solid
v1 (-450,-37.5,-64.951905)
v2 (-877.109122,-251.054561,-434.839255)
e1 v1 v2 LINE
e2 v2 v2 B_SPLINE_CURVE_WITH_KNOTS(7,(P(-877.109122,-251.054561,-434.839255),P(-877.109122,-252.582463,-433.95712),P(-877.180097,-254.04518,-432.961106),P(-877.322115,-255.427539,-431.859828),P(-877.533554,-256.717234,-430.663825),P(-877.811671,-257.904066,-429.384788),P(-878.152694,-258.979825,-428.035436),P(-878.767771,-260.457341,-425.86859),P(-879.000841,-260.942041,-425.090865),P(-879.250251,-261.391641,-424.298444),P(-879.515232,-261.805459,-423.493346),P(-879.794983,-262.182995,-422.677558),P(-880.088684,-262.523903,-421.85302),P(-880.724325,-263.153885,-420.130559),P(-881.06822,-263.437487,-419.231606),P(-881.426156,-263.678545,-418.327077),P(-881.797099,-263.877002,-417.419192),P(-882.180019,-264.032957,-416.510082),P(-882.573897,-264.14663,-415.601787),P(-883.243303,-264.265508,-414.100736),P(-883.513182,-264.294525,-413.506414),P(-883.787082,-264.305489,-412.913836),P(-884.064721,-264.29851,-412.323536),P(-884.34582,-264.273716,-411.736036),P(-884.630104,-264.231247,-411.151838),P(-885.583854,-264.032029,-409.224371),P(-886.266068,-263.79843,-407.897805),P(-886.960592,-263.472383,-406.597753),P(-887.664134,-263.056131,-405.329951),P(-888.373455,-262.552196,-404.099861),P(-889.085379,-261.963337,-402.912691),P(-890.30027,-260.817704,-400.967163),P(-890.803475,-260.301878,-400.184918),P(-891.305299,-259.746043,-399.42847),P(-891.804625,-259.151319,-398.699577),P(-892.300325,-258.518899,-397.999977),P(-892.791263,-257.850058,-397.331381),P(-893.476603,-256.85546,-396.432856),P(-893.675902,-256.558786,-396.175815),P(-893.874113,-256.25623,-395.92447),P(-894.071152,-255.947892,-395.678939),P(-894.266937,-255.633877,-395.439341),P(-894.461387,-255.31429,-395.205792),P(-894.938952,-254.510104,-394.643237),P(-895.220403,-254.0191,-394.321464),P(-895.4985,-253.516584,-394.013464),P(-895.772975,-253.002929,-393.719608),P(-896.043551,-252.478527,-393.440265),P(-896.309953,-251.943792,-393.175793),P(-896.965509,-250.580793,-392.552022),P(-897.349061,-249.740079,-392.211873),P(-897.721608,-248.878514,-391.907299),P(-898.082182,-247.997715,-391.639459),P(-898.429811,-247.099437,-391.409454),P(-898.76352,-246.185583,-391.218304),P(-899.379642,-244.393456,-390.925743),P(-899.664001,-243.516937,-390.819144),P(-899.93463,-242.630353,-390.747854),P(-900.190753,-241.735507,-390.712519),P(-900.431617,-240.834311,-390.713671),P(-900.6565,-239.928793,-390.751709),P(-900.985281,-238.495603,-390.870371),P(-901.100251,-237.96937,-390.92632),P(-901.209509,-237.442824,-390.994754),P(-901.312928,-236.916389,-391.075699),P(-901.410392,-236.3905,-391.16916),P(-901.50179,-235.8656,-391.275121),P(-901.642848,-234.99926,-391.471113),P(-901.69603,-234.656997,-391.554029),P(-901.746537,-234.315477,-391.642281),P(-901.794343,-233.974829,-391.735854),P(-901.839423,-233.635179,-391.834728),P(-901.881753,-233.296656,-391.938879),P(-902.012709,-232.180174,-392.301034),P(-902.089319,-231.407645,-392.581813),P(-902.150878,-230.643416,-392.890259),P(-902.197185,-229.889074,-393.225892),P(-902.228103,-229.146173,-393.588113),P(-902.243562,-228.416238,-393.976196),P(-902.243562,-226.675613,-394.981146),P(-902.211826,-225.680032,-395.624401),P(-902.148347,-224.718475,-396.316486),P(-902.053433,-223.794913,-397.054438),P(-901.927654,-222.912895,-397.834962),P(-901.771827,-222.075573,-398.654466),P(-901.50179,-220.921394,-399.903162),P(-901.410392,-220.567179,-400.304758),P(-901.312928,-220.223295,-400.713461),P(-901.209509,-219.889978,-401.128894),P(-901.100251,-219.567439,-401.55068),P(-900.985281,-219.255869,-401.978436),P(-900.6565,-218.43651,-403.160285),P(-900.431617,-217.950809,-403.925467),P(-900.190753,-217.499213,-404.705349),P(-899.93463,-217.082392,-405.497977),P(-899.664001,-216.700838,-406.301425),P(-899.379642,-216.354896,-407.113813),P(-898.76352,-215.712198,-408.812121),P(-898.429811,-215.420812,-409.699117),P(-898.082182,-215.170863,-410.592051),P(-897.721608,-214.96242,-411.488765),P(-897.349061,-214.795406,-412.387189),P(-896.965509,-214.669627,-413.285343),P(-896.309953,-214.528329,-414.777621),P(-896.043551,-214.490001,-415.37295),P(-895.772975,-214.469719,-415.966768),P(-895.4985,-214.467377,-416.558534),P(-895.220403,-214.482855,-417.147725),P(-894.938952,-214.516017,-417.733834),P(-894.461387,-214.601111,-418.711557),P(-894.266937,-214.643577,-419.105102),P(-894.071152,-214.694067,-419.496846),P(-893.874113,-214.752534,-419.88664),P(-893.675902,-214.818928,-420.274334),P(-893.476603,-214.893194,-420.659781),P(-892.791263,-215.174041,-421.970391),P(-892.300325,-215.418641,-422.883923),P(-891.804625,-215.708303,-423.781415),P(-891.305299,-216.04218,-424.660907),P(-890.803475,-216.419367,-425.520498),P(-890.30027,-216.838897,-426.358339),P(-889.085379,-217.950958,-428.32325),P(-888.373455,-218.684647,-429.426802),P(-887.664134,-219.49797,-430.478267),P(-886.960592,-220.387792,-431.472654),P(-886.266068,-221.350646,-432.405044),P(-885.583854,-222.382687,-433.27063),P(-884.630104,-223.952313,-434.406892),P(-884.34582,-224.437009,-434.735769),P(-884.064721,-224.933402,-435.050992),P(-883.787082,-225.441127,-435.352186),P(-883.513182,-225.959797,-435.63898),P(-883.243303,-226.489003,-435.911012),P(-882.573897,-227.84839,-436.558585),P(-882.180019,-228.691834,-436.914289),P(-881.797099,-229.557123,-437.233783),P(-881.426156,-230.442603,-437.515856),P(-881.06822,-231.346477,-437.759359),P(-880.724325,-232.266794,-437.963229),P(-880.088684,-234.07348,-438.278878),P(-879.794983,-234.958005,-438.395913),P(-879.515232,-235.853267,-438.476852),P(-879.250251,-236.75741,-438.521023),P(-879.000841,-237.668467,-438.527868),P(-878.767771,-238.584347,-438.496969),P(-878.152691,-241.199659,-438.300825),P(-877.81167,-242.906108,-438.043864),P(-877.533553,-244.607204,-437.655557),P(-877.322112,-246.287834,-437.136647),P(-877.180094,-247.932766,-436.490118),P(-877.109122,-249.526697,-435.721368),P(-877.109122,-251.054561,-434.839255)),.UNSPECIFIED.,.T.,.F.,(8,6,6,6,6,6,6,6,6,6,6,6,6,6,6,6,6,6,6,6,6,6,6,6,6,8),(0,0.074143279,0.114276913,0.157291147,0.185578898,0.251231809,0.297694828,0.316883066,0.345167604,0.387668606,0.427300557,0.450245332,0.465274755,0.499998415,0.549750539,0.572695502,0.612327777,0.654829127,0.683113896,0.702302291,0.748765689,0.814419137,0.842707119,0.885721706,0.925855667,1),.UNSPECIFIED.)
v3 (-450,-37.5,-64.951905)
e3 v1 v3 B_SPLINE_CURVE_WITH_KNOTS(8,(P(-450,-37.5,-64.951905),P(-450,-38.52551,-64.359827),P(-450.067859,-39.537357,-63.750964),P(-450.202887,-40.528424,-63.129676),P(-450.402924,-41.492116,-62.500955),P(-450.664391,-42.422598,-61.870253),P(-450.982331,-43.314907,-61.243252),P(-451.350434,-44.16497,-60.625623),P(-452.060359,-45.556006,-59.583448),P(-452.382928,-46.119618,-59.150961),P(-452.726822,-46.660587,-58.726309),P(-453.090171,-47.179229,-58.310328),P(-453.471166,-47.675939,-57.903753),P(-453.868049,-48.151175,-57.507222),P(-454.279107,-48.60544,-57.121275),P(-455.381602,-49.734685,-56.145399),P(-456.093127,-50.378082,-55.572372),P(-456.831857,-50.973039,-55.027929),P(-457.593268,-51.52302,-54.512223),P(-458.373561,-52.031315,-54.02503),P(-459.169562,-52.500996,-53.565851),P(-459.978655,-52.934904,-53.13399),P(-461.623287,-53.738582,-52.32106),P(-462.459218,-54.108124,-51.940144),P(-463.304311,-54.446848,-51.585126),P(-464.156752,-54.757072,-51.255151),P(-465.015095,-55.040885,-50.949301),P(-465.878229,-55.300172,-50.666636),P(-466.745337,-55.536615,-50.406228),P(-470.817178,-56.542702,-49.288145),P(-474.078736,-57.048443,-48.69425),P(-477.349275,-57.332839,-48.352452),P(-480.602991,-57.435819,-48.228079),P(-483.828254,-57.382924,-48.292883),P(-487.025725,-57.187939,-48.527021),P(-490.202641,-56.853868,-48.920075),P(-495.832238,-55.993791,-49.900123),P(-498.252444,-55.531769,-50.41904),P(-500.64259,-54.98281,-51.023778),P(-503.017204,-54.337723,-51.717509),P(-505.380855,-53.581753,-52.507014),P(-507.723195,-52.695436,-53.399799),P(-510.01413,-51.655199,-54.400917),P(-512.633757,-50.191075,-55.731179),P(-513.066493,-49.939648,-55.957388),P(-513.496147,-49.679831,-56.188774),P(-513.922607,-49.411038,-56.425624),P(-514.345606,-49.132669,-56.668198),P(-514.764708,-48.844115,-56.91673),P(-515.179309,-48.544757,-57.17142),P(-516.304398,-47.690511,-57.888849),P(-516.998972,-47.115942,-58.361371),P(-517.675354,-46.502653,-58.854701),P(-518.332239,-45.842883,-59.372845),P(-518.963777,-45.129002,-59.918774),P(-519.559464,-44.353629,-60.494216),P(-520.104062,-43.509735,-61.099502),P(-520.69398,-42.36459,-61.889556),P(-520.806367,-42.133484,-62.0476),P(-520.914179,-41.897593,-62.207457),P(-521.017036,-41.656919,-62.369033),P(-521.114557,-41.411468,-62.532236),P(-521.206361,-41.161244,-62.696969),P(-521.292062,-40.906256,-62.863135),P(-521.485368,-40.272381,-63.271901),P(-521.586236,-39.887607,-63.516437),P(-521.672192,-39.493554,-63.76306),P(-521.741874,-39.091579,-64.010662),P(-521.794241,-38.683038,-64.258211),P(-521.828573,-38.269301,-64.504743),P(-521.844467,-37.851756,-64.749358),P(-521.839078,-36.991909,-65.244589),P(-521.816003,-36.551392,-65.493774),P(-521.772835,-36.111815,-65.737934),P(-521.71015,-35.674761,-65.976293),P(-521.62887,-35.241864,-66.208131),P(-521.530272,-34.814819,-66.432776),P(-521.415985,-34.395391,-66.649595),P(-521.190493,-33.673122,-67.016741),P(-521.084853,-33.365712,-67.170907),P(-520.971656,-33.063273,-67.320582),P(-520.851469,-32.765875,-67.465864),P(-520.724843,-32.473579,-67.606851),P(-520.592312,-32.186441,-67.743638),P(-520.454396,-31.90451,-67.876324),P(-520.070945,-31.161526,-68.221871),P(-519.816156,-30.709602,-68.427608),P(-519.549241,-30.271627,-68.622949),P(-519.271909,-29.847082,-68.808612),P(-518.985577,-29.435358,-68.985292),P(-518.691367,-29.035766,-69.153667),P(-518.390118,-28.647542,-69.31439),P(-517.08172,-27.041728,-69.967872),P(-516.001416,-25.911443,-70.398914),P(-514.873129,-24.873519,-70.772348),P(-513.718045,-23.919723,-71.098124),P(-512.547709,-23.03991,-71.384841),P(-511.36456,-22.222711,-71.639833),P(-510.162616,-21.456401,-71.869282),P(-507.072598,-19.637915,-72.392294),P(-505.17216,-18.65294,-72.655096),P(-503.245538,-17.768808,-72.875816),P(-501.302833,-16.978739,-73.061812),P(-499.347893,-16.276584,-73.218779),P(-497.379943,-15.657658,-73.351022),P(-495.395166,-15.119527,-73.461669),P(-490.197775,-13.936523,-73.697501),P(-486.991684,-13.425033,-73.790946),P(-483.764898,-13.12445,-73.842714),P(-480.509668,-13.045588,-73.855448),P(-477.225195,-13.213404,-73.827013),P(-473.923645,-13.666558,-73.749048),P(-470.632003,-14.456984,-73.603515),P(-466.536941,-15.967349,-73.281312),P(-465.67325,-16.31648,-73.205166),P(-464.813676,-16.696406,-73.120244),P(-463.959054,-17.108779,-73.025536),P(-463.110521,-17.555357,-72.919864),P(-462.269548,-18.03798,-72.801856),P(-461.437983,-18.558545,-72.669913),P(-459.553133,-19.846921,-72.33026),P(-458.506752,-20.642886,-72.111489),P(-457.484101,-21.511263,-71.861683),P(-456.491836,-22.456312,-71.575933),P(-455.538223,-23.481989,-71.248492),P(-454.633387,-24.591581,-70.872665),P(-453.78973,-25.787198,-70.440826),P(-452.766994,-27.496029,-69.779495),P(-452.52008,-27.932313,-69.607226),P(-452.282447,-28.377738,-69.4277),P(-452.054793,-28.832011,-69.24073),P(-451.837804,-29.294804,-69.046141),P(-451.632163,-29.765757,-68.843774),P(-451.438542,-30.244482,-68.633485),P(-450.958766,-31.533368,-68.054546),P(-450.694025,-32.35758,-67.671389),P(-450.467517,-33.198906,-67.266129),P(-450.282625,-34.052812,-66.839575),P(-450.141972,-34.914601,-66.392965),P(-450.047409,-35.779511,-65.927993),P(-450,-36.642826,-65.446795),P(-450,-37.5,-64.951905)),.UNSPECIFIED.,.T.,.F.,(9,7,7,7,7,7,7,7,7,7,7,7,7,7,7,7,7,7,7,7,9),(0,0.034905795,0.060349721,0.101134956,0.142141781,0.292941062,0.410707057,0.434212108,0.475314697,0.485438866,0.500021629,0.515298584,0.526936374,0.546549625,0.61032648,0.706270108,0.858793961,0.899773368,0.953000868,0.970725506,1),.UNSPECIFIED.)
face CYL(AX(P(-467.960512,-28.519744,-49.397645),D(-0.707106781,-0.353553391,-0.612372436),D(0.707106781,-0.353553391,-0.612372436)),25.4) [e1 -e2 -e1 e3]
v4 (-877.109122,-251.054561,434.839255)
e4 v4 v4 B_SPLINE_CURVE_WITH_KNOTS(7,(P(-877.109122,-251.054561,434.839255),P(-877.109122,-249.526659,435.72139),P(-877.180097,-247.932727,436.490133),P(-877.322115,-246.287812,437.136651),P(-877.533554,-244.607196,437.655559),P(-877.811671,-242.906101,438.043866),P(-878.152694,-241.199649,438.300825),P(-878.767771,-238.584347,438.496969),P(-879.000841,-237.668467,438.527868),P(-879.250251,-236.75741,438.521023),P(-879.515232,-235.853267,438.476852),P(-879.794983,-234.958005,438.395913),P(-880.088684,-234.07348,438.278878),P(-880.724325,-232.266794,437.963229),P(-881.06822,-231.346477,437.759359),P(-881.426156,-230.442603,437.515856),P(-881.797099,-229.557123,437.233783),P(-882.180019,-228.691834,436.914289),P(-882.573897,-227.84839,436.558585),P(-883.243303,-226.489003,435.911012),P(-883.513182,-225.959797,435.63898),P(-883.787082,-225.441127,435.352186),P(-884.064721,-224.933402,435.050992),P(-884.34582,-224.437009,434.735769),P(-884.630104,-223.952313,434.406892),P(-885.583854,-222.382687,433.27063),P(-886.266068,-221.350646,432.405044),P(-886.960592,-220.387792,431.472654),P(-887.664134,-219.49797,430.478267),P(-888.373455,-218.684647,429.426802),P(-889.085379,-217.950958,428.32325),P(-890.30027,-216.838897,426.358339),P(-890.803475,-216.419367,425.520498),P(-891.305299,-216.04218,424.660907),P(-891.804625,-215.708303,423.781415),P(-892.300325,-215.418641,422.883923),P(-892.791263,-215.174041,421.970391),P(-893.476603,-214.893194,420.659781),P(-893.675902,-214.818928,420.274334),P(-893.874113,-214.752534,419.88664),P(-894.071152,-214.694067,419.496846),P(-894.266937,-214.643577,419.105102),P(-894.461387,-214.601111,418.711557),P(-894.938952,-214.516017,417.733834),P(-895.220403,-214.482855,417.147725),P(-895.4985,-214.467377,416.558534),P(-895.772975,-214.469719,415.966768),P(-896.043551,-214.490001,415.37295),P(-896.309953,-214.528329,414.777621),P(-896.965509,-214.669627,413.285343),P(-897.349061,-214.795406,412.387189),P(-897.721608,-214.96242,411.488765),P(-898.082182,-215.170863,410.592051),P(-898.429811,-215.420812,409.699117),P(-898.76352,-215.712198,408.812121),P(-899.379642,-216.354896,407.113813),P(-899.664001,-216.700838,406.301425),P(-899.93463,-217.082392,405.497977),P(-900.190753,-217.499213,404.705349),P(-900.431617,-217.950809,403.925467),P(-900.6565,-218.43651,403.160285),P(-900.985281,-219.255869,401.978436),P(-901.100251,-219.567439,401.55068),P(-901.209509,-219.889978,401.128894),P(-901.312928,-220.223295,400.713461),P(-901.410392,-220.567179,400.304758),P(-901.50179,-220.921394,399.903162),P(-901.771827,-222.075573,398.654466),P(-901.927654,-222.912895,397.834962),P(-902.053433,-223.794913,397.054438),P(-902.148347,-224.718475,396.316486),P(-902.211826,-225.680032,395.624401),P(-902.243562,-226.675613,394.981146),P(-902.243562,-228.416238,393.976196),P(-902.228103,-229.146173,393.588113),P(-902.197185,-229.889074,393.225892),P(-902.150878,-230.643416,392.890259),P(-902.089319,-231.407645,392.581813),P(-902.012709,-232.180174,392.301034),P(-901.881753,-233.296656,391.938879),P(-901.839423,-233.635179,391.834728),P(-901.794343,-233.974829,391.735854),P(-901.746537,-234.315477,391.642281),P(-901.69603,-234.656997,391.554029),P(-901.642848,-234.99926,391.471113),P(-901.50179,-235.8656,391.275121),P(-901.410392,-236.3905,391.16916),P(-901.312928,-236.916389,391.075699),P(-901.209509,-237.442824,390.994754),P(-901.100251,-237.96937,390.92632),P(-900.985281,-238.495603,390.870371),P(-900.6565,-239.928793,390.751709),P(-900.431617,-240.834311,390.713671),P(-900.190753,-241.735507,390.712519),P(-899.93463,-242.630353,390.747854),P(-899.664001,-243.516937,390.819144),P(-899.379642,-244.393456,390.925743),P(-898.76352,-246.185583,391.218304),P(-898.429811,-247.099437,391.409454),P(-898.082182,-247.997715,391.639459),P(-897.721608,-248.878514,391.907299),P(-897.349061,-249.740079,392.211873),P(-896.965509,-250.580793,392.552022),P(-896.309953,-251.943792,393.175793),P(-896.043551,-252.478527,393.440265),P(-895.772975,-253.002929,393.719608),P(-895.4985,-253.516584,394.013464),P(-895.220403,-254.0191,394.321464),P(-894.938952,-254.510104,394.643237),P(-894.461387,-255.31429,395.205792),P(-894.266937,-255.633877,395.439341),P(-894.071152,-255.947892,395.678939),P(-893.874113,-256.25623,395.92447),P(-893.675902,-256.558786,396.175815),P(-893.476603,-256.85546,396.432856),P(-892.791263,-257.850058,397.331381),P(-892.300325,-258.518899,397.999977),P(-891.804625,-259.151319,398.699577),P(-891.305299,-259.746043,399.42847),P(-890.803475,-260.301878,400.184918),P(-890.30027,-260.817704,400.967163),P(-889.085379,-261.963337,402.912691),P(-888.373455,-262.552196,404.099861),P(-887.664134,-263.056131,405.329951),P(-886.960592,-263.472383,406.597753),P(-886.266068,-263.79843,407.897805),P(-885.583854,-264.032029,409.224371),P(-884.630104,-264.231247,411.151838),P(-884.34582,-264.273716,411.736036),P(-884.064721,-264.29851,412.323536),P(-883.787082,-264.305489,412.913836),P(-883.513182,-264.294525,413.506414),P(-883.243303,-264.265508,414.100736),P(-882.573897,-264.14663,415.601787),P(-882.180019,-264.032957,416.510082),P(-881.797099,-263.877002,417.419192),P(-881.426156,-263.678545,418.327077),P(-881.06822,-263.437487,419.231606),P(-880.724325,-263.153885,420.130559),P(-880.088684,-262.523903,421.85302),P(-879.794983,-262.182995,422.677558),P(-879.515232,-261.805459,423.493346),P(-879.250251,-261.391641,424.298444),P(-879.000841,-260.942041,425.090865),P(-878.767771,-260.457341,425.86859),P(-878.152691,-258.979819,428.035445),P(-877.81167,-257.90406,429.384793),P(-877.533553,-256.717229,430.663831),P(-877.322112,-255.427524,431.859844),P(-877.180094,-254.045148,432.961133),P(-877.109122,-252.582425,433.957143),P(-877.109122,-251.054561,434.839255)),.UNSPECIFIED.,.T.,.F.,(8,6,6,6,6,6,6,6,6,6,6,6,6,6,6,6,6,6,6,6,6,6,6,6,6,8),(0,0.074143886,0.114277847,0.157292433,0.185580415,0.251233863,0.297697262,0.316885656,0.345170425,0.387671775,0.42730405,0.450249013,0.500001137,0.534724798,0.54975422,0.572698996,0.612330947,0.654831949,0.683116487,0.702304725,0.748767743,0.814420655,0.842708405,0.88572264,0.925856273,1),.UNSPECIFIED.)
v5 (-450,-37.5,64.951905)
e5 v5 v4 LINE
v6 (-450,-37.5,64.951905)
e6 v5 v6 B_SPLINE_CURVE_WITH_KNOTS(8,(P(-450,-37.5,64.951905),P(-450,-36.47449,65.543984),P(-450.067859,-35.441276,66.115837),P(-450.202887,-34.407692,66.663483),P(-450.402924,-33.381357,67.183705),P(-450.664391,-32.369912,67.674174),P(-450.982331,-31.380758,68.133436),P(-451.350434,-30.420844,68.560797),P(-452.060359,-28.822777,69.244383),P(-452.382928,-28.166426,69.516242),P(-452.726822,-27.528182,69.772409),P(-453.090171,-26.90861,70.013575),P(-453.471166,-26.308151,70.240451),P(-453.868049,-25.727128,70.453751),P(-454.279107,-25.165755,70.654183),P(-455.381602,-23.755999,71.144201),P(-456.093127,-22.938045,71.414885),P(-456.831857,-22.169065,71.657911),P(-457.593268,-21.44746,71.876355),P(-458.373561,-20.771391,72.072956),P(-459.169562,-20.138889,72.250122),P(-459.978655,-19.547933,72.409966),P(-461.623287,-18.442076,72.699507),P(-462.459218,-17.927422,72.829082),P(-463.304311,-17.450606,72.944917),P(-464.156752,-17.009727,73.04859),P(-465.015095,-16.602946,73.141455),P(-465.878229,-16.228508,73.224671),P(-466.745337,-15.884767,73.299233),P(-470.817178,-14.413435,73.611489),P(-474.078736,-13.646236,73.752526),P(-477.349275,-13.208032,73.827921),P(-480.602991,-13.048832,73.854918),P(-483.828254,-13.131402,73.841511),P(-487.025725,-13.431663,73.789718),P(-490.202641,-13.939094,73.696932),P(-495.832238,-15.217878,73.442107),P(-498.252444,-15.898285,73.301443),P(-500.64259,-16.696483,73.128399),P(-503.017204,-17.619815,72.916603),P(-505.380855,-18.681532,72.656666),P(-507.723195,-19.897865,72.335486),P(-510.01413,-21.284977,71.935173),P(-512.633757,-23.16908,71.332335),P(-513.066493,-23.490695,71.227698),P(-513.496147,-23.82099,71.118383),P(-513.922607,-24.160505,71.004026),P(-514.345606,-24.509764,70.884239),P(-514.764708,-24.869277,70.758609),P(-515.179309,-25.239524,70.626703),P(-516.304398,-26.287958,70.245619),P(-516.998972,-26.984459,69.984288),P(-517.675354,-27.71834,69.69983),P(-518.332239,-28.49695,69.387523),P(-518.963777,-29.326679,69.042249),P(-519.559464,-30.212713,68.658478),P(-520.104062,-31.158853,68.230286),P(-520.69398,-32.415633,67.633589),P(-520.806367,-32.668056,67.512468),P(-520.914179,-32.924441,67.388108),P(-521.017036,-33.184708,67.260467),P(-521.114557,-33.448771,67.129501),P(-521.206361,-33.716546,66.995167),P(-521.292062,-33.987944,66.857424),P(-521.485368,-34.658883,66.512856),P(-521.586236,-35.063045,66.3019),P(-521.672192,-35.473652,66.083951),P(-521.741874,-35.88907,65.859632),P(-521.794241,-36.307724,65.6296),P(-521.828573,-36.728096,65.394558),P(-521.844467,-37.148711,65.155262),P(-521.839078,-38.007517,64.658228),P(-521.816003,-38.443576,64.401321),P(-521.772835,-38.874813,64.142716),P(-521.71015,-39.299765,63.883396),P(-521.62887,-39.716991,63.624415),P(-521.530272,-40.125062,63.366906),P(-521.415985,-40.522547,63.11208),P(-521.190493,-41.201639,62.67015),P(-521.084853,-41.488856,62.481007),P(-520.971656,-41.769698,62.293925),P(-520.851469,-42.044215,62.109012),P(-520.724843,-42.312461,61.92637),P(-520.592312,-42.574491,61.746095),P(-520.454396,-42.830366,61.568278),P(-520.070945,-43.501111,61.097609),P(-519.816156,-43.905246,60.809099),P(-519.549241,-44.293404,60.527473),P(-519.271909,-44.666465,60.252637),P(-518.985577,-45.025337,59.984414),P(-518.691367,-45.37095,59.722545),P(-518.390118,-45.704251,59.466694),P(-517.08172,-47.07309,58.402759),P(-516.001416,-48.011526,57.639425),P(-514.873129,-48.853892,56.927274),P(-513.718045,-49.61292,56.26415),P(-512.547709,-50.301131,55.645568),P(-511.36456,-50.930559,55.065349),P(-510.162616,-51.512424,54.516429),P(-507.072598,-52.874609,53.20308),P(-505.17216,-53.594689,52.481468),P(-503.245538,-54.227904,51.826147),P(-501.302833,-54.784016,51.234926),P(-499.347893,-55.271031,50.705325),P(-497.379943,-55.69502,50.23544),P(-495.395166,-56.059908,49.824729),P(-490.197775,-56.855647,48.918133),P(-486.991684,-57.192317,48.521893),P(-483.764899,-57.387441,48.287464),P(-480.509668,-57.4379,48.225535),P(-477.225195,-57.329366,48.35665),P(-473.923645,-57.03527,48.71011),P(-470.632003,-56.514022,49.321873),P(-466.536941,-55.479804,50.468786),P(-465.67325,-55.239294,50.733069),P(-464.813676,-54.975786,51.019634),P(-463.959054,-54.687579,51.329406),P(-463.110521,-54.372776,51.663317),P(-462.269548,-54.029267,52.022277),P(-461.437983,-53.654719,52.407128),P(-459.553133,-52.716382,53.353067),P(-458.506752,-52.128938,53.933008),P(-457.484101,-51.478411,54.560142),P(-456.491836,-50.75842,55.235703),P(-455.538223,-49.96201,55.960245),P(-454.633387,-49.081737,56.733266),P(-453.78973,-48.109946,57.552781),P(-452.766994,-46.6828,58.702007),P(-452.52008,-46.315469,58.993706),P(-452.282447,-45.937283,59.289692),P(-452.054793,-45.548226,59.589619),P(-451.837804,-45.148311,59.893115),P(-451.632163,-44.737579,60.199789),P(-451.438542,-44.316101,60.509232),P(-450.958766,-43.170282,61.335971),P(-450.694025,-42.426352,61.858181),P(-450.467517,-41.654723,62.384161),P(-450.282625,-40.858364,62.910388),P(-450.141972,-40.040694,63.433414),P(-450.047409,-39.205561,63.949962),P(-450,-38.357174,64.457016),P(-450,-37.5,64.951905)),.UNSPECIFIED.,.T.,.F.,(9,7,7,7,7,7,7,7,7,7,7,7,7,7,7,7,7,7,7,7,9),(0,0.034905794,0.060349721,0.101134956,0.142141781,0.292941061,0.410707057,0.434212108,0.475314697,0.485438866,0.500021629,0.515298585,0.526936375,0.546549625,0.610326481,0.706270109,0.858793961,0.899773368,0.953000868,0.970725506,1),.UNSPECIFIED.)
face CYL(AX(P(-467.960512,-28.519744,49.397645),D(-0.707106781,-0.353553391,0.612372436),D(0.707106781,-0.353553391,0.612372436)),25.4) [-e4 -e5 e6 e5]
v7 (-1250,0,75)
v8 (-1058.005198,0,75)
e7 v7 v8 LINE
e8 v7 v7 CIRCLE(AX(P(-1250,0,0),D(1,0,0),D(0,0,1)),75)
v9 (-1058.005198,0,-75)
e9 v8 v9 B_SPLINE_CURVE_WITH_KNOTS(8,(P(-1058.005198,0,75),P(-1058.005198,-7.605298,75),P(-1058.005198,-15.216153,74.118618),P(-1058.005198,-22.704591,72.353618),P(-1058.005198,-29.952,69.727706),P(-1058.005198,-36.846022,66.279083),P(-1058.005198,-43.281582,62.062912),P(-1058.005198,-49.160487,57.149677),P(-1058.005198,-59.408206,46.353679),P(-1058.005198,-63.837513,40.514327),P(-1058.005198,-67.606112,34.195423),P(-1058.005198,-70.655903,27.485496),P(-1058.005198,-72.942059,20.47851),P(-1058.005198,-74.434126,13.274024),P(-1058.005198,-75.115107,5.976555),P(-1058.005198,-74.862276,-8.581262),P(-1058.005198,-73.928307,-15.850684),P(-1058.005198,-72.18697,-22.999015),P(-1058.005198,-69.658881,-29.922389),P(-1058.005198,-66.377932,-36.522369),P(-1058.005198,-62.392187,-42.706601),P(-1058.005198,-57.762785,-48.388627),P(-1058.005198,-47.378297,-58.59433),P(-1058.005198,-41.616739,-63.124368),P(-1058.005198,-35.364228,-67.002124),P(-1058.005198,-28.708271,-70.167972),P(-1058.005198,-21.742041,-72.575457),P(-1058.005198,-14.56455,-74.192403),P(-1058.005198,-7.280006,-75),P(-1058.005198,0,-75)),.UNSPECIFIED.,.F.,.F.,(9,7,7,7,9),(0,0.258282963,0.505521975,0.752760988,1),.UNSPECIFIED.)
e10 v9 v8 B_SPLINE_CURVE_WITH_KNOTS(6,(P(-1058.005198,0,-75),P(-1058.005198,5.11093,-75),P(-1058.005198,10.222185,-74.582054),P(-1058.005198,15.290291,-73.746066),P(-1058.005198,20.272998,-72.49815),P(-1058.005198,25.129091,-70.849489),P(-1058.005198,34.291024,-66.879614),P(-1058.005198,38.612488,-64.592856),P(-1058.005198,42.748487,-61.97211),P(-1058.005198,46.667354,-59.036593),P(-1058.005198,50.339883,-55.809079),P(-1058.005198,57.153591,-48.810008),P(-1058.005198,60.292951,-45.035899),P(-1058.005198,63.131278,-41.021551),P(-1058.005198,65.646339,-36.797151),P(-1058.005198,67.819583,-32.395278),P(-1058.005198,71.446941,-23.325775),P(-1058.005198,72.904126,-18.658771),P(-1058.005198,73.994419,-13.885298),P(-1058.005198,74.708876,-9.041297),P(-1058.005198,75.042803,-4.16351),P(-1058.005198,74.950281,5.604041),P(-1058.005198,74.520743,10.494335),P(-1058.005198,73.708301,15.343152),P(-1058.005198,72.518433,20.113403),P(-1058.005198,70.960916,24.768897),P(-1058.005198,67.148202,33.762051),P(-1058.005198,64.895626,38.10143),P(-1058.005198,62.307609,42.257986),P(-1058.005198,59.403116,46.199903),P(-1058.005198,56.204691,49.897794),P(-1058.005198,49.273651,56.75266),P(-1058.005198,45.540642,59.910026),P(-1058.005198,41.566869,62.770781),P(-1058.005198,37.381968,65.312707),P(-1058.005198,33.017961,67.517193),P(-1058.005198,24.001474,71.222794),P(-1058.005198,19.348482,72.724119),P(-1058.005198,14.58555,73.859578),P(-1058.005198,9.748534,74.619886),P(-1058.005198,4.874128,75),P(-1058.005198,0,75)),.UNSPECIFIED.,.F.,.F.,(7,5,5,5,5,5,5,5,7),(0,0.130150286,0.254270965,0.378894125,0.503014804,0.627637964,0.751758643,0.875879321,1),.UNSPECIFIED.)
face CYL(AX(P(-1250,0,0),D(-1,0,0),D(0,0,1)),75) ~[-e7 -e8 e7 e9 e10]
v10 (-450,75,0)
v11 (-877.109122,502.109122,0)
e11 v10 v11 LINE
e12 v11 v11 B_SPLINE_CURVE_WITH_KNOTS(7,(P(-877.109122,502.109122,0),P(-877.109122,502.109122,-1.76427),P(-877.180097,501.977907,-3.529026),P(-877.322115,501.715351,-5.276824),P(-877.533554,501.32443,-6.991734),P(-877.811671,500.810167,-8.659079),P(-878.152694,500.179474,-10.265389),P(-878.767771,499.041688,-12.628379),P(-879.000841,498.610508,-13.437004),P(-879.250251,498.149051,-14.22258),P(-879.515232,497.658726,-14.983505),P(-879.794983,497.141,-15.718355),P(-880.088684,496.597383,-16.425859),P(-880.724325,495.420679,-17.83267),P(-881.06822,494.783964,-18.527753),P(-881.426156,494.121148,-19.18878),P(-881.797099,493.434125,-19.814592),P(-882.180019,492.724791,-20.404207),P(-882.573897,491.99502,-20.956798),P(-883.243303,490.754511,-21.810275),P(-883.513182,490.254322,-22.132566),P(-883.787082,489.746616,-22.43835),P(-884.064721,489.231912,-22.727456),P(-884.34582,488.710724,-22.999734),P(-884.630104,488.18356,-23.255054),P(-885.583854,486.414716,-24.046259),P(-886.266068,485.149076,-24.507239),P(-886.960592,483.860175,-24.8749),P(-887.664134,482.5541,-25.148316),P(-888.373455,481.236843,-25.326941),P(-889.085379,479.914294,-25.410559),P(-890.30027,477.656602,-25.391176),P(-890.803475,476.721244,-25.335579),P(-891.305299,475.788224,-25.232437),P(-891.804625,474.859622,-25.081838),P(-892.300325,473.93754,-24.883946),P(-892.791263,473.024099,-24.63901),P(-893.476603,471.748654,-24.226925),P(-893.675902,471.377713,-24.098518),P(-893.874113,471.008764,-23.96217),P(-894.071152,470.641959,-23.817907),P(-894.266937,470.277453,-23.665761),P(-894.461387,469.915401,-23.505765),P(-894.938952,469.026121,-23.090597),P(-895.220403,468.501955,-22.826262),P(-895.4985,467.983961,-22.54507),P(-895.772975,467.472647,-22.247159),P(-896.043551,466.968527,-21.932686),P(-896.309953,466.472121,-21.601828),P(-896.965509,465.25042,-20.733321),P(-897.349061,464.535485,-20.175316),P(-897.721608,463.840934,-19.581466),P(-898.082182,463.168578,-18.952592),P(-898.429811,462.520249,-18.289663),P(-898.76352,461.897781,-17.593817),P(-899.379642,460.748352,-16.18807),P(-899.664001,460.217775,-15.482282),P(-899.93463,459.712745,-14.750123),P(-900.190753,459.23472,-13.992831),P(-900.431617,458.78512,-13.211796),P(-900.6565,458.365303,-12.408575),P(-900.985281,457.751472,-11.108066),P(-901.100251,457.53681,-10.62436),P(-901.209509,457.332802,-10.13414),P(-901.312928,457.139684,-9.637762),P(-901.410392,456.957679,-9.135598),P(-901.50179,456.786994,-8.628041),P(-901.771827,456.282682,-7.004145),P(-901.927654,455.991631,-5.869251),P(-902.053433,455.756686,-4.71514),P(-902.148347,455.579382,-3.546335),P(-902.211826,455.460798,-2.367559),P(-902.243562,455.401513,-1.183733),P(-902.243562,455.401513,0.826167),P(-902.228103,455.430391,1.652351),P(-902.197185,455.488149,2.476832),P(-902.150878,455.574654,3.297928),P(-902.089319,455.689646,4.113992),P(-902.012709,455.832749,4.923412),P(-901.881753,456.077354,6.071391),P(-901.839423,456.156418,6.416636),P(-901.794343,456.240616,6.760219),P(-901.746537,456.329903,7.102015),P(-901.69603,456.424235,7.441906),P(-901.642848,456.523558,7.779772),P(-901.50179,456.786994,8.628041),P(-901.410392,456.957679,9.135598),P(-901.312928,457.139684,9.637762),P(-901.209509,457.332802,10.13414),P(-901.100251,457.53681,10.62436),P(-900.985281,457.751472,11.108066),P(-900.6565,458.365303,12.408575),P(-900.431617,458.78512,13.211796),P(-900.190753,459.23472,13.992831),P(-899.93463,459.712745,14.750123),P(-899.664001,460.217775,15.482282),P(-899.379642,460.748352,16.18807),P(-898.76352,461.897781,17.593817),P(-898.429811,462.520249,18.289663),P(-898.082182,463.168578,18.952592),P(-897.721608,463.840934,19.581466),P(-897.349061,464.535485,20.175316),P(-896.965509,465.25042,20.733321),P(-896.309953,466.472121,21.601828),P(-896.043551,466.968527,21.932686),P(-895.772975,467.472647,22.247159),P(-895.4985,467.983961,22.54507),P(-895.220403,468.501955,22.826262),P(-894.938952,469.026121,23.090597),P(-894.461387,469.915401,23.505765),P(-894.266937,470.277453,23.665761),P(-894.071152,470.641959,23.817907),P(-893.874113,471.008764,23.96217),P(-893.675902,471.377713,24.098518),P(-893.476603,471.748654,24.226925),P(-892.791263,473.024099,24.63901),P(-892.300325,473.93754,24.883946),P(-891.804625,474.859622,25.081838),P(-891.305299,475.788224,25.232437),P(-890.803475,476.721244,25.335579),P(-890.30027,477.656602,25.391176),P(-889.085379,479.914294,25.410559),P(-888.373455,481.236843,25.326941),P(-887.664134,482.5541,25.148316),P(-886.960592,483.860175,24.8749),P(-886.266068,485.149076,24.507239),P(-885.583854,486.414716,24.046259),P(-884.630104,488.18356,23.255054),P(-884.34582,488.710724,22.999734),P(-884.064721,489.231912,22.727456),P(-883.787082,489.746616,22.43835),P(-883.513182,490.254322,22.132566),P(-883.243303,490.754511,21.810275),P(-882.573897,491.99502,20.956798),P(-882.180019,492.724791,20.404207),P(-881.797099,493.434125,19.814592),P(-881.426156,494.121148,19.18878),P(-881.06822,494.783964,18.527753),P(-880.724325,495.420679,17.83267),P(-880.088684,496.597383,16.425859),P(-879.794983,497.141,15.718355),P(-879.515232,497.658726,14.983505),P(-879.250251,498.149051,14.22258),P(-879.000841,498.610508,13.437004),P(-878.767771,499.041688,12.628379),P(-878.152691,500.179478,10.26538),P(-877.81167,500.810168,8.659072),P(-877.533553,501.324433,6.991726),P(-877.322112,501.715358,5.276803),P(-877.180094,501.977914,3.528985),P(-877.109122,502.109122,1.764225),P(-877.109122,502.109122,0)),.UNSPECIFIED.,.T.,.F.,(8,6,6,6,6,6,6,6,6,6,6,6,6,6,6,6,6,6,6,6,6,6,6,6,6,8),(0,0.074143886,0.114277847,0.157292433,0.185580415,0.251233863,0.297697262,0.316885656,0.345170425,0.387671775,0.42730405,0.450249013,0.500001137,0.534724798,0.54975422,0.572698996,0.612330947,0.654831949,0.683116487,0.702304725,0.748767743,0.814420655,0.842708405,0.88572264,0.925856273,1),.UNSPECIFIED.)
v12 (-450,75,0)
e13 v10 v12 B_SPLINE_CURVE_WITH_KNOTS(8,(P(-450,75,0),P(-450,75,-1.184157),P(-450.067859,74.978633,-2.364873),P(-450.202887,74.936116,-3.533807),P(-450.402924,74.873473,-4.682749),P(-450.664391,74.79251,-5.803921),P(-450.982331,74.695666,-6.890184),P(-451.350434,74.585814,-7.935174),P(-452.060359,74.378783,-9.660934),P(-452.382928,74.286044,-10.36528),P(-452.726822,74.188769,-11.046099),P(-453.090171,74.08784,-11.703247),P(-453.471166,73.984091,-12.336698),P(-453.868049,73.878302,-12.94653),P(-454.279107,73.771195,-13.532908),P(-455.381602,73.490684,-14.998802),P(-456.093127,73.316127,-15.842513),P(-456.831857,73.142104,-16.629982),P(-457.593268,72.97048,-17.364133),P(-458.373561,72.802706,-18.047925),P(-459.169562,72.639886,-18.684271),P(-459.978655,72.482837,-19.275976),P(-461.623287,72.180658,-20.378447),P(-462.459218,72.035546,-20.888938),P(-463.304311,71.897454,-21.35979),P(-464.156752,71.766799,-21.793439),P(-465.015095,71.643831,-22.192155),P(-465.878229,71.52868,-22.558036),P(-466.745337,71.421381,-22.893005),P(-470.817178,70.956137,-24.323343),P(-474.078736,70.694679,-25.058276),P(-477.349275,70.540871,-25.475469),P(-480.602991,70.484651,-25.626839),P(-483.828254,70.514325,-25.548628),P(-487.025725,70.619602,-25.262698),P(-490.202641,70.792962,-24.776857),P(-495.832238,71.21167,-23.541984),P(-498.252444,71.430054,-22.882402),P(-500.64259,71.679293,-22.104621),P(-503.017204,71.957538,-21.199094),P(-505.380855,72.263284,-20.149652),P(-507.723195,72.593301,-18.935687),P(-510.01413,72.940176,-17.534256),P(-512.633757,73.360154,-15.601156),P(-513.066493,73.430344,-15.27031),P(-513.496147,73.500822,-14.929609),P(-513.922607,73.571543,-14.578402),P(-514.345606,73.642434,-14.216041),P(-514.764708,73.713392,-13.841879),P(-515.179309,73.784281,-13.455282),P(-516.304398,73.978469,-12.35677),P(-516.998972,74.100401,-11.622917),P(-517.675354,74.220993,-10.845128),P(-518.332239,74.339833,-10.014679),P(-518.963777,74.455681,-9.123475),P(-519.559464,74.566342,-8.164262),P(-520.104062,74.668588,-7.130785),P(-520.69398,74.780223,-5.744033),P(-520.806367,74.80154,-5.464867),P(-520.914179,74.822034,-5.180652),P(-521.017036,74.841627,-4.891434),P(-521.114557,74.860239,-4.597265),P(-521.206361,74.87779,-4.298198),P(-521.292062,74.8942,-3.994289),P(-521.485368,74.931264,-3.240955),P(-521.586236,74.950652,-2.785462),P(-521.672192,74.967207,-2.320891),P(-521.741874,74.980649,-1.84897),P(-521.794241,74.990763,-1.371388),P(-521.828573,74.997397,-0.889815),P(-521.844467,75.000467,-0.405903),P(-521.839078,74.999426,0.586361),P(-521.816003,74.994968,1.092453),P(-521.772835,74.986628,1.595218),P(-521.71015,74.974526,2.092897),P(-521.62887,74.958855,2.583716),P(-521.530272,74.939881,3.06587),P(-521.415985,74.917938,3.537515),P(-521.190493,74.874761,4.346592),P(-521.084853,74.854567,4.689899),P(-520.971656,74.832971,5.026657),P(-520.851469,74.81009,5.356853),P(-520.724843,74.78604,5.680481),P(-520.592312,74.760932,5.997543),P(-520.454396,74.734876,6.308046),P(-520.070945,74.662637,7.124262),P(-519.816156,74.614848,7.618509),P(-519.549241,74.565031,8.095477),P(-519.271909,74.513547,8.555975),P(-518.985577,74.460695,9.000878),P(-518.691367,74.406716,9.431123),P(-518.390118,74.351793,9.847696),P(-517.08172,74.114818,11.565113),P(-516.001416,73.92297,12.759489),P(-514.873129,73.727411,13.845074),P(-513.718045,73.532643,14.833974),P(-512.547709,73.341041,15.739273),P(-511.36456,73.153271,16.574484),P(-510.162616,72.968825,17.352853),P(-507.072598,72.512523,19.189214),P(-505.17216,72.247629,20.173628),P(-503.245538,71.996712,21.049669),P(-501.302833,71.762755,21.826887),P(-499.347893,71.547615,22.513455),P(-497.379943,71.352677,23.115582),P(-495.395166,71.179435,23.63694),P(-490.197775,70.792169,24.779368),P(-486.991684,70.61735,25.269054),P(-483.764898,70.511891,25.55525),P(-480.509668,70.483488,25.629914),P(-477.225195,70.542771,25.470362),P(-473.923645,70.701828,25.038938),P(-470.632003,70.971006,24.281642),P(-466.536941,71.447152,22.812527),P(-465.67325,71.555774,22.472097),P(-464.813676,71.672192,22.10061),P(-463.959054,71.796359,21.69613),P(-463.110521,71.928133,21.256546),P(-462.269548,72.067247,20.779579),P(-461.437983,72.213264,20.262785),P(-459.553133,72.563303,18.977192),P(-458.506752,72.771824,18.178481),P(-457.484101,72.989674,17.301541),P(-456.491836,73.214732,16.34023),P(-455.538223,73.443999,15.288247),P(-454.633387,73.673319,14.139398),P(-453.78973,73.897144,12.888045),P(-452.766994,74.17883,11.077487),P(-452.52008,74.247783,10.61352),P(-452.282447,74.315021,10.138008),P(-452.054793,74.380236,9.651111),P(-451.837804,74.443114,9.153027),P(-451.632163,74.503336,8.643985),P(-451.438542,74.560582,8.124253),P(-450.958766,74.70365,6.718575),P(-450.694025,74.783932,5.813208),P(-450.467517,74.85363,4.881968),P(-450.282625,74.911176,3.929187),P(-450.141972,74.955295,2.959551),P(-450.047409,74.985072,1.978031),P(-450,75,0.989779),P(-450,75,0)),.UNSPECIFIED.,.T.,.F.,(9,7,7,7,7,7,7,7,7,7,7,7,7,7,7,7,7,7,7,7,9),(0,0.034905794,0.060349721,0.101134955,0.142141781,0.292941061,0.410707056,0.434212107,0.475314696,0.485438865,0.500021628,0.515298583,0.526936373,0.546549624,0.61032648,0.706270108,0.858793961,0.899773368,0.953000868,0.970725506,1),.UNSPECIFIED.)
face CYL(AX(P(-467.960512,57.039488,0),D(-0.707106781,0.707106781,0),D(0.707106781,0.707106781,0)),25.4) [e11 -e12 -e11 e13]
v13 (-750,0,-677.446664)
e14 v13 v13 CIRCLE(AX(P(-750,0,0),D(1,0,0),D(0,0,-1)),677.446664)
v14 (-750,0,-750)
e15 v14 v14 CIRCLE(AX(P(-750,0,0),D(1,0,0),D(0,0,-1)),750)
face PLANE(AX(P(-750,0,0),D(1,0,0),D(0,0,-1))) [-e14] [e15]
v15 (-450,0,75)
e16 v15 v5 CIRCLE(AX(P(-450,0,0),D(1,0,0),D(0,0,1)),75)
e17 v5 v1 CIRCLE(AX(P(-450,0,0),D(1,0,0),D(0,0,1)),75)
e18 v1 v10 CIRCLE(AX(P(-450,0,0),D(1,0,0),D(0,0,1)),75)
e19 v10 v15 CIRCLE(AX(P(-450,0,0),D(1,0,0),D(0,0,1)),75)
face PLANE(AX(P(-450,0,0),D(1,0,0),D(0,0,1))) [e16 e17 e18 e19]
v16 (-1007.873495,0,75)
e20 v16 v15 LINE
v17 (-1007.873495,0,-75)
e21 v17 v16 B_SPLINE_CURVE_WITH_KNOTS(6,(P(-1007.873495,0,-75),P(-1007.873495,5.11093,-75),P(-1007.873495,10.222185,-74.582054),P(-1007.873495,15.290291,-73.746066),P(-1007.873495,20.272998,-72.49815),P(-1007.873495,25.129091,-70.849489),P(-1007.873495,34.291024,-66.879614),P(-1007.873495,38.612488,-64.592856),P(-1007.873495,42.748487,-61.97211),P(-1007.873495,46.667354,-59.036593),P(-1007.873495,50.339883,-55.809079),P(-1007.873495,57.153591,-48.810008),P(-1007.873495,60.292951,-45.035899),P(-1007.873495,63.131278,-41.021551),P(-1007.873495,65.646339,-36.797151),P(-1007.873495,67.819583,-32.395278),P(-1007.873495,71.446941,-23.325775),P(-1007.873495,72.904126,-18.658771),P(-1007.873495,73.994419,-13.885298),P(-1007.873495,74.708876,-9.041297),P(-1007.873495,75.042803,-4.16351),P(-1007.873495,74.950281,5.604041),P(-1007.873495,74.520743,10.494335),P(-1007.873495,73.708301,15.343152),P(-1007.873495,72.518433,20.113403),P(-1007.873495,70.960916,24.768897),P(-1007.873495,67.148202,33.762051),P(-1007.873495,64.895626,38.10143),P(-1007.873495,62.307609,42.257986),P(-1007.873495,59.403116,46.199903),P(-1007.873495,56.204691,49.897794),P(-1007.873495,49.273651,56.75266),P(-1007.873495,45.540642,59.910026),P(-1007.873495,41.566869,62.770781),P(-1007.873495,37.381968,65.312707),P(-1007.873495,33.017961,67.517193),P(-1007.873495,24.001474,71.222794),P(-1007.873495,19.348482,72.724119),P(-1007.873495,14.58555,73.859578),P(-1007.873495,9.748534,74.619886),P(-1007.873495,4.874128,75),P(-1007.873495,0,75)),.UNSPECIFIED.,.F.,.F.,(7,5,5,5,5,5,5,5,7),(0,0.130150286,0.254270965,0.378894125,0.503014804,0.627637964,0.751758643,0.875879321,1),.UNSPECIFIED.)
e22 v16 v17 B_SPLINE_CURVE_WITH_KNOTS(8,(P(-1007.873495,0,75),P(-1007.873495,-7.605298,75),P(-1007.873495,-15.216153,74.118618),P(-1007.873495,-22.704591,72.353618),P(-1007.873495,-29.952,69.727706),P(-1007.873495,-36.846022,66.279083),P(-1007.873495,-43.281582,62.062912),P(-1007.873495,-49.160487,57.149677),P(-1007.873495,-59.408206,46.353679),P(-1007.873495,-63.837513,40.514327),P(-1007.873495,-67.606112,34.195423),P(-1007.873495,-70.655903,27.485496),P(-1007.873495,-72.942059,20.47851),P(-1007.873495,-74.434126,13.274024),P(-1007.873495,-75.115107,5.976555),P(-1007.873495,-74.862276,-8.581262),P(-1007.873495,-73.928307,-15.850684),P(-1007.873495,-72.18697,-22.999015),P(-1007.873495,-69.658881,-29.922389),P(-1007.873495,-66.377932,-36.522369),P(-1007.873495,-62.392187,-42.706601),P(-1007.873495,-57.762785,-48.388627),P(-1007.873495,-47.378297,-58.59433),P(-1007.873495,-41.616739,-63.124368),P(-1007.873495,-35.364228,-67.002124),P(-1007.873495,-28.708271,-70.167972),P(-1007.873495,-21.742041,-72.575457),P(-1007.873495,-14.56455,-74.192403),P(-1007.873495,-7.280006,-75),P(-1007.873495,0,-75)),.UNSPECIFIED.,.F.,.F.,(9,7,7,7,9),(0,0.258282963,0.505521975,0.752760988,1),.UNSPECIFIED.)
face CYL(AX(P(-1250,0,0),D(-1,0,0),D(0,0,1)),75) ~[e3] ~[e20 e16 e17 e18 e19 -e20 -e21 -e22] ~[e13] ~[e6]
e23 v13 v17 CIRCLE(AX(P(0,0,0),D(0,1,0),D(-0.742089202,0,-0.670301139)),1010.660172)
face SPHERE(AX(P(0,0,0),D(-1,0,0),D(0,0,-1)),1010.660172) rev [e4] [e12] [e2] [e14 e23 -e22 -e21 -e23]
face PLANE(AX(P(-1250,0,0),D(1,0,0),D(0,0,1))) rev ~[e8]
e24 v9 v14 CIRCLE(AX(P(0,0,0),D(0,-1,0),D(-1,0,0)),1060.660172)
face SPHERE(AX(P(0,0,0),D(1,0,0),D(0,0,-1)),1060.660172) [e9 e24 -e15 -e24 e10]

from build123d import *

# Parameters (mm, degrees)
BOSS_EXTRUDE1_DEPTH      = 300
BOSS_EXTRUDE1_DEPTH_BACK = 500
SKETCH2_R                = 75
CIRPATTERN1_COUNT        = 3


with BuildPart() as part:
    # Sketch1 → Revolve1 (revolve)
    with BuildSketch(Plane(origin=(0, 0, 0), x_dir=(1, 0, 0), z_dir=(0, 1, 0))):
        with BuildLine():
            Line((-750, 750), (-750, 677.44666419))
            ThreePointArc((-750, 677.44666419), (-943.246815965, 362.931711199), (-1010.66017178, 0))
            Line((-1010.66017178, 0), (-1060.66017178, 0))
            ThreePointArc((-1060.66017178, 0), (-979.922223657, 405.89707511), (-750, 750))
        make_face()
    revolve(axis=Axis((-1110.59399243, 0, 0), (1, 0, 0)))

    # Sketch2 → Boss-Extrude1 (add, two sides: drawn at the far end of the back side and taken through both)
    with BuildSketch(Plane(origin=(-750, 0, 0), x_dir=(0, 0, -1), z_dir=(1, 0, 0)).offset(-BOSS_EXTRUDE1_DEPTH_BACK)):
        with Locations(Location((0, 0, 0), (0, 0, 180))):
            Circle(SKETCH2_R)
    extrude(amount=BOSS_EXTRUDE1_DEPTH + BOSS_EXTRUDE1_DEPTH_BACK)

    # Sketch5 → Revolve2 (revolve)
    with BuildSketch(Plane.XY):
        Polygon((-450, 75), (-881.052293811, 506.052293811), (-899.012806053, 488.091781569), (-467.960512242, 57.039487758), align=None)
    revolve2 = revolve(axis=Axis((-467.960512242, 57.039487758, 0), (-0.7071067811865465, 0.7071067811865487, 0)))

    # CirPattern1: Revolve2 ×3 about axis
    cirpattern1_axis = Axis((-450, 0, 0), (1, 0, 0))
    for i in range(1, CIRPATTERN1_COUNT):
        add(revolve2.rotate(cirpattern1_axis, i * 360 / CIRPATTERN1_COUNT))


solid = part.part
